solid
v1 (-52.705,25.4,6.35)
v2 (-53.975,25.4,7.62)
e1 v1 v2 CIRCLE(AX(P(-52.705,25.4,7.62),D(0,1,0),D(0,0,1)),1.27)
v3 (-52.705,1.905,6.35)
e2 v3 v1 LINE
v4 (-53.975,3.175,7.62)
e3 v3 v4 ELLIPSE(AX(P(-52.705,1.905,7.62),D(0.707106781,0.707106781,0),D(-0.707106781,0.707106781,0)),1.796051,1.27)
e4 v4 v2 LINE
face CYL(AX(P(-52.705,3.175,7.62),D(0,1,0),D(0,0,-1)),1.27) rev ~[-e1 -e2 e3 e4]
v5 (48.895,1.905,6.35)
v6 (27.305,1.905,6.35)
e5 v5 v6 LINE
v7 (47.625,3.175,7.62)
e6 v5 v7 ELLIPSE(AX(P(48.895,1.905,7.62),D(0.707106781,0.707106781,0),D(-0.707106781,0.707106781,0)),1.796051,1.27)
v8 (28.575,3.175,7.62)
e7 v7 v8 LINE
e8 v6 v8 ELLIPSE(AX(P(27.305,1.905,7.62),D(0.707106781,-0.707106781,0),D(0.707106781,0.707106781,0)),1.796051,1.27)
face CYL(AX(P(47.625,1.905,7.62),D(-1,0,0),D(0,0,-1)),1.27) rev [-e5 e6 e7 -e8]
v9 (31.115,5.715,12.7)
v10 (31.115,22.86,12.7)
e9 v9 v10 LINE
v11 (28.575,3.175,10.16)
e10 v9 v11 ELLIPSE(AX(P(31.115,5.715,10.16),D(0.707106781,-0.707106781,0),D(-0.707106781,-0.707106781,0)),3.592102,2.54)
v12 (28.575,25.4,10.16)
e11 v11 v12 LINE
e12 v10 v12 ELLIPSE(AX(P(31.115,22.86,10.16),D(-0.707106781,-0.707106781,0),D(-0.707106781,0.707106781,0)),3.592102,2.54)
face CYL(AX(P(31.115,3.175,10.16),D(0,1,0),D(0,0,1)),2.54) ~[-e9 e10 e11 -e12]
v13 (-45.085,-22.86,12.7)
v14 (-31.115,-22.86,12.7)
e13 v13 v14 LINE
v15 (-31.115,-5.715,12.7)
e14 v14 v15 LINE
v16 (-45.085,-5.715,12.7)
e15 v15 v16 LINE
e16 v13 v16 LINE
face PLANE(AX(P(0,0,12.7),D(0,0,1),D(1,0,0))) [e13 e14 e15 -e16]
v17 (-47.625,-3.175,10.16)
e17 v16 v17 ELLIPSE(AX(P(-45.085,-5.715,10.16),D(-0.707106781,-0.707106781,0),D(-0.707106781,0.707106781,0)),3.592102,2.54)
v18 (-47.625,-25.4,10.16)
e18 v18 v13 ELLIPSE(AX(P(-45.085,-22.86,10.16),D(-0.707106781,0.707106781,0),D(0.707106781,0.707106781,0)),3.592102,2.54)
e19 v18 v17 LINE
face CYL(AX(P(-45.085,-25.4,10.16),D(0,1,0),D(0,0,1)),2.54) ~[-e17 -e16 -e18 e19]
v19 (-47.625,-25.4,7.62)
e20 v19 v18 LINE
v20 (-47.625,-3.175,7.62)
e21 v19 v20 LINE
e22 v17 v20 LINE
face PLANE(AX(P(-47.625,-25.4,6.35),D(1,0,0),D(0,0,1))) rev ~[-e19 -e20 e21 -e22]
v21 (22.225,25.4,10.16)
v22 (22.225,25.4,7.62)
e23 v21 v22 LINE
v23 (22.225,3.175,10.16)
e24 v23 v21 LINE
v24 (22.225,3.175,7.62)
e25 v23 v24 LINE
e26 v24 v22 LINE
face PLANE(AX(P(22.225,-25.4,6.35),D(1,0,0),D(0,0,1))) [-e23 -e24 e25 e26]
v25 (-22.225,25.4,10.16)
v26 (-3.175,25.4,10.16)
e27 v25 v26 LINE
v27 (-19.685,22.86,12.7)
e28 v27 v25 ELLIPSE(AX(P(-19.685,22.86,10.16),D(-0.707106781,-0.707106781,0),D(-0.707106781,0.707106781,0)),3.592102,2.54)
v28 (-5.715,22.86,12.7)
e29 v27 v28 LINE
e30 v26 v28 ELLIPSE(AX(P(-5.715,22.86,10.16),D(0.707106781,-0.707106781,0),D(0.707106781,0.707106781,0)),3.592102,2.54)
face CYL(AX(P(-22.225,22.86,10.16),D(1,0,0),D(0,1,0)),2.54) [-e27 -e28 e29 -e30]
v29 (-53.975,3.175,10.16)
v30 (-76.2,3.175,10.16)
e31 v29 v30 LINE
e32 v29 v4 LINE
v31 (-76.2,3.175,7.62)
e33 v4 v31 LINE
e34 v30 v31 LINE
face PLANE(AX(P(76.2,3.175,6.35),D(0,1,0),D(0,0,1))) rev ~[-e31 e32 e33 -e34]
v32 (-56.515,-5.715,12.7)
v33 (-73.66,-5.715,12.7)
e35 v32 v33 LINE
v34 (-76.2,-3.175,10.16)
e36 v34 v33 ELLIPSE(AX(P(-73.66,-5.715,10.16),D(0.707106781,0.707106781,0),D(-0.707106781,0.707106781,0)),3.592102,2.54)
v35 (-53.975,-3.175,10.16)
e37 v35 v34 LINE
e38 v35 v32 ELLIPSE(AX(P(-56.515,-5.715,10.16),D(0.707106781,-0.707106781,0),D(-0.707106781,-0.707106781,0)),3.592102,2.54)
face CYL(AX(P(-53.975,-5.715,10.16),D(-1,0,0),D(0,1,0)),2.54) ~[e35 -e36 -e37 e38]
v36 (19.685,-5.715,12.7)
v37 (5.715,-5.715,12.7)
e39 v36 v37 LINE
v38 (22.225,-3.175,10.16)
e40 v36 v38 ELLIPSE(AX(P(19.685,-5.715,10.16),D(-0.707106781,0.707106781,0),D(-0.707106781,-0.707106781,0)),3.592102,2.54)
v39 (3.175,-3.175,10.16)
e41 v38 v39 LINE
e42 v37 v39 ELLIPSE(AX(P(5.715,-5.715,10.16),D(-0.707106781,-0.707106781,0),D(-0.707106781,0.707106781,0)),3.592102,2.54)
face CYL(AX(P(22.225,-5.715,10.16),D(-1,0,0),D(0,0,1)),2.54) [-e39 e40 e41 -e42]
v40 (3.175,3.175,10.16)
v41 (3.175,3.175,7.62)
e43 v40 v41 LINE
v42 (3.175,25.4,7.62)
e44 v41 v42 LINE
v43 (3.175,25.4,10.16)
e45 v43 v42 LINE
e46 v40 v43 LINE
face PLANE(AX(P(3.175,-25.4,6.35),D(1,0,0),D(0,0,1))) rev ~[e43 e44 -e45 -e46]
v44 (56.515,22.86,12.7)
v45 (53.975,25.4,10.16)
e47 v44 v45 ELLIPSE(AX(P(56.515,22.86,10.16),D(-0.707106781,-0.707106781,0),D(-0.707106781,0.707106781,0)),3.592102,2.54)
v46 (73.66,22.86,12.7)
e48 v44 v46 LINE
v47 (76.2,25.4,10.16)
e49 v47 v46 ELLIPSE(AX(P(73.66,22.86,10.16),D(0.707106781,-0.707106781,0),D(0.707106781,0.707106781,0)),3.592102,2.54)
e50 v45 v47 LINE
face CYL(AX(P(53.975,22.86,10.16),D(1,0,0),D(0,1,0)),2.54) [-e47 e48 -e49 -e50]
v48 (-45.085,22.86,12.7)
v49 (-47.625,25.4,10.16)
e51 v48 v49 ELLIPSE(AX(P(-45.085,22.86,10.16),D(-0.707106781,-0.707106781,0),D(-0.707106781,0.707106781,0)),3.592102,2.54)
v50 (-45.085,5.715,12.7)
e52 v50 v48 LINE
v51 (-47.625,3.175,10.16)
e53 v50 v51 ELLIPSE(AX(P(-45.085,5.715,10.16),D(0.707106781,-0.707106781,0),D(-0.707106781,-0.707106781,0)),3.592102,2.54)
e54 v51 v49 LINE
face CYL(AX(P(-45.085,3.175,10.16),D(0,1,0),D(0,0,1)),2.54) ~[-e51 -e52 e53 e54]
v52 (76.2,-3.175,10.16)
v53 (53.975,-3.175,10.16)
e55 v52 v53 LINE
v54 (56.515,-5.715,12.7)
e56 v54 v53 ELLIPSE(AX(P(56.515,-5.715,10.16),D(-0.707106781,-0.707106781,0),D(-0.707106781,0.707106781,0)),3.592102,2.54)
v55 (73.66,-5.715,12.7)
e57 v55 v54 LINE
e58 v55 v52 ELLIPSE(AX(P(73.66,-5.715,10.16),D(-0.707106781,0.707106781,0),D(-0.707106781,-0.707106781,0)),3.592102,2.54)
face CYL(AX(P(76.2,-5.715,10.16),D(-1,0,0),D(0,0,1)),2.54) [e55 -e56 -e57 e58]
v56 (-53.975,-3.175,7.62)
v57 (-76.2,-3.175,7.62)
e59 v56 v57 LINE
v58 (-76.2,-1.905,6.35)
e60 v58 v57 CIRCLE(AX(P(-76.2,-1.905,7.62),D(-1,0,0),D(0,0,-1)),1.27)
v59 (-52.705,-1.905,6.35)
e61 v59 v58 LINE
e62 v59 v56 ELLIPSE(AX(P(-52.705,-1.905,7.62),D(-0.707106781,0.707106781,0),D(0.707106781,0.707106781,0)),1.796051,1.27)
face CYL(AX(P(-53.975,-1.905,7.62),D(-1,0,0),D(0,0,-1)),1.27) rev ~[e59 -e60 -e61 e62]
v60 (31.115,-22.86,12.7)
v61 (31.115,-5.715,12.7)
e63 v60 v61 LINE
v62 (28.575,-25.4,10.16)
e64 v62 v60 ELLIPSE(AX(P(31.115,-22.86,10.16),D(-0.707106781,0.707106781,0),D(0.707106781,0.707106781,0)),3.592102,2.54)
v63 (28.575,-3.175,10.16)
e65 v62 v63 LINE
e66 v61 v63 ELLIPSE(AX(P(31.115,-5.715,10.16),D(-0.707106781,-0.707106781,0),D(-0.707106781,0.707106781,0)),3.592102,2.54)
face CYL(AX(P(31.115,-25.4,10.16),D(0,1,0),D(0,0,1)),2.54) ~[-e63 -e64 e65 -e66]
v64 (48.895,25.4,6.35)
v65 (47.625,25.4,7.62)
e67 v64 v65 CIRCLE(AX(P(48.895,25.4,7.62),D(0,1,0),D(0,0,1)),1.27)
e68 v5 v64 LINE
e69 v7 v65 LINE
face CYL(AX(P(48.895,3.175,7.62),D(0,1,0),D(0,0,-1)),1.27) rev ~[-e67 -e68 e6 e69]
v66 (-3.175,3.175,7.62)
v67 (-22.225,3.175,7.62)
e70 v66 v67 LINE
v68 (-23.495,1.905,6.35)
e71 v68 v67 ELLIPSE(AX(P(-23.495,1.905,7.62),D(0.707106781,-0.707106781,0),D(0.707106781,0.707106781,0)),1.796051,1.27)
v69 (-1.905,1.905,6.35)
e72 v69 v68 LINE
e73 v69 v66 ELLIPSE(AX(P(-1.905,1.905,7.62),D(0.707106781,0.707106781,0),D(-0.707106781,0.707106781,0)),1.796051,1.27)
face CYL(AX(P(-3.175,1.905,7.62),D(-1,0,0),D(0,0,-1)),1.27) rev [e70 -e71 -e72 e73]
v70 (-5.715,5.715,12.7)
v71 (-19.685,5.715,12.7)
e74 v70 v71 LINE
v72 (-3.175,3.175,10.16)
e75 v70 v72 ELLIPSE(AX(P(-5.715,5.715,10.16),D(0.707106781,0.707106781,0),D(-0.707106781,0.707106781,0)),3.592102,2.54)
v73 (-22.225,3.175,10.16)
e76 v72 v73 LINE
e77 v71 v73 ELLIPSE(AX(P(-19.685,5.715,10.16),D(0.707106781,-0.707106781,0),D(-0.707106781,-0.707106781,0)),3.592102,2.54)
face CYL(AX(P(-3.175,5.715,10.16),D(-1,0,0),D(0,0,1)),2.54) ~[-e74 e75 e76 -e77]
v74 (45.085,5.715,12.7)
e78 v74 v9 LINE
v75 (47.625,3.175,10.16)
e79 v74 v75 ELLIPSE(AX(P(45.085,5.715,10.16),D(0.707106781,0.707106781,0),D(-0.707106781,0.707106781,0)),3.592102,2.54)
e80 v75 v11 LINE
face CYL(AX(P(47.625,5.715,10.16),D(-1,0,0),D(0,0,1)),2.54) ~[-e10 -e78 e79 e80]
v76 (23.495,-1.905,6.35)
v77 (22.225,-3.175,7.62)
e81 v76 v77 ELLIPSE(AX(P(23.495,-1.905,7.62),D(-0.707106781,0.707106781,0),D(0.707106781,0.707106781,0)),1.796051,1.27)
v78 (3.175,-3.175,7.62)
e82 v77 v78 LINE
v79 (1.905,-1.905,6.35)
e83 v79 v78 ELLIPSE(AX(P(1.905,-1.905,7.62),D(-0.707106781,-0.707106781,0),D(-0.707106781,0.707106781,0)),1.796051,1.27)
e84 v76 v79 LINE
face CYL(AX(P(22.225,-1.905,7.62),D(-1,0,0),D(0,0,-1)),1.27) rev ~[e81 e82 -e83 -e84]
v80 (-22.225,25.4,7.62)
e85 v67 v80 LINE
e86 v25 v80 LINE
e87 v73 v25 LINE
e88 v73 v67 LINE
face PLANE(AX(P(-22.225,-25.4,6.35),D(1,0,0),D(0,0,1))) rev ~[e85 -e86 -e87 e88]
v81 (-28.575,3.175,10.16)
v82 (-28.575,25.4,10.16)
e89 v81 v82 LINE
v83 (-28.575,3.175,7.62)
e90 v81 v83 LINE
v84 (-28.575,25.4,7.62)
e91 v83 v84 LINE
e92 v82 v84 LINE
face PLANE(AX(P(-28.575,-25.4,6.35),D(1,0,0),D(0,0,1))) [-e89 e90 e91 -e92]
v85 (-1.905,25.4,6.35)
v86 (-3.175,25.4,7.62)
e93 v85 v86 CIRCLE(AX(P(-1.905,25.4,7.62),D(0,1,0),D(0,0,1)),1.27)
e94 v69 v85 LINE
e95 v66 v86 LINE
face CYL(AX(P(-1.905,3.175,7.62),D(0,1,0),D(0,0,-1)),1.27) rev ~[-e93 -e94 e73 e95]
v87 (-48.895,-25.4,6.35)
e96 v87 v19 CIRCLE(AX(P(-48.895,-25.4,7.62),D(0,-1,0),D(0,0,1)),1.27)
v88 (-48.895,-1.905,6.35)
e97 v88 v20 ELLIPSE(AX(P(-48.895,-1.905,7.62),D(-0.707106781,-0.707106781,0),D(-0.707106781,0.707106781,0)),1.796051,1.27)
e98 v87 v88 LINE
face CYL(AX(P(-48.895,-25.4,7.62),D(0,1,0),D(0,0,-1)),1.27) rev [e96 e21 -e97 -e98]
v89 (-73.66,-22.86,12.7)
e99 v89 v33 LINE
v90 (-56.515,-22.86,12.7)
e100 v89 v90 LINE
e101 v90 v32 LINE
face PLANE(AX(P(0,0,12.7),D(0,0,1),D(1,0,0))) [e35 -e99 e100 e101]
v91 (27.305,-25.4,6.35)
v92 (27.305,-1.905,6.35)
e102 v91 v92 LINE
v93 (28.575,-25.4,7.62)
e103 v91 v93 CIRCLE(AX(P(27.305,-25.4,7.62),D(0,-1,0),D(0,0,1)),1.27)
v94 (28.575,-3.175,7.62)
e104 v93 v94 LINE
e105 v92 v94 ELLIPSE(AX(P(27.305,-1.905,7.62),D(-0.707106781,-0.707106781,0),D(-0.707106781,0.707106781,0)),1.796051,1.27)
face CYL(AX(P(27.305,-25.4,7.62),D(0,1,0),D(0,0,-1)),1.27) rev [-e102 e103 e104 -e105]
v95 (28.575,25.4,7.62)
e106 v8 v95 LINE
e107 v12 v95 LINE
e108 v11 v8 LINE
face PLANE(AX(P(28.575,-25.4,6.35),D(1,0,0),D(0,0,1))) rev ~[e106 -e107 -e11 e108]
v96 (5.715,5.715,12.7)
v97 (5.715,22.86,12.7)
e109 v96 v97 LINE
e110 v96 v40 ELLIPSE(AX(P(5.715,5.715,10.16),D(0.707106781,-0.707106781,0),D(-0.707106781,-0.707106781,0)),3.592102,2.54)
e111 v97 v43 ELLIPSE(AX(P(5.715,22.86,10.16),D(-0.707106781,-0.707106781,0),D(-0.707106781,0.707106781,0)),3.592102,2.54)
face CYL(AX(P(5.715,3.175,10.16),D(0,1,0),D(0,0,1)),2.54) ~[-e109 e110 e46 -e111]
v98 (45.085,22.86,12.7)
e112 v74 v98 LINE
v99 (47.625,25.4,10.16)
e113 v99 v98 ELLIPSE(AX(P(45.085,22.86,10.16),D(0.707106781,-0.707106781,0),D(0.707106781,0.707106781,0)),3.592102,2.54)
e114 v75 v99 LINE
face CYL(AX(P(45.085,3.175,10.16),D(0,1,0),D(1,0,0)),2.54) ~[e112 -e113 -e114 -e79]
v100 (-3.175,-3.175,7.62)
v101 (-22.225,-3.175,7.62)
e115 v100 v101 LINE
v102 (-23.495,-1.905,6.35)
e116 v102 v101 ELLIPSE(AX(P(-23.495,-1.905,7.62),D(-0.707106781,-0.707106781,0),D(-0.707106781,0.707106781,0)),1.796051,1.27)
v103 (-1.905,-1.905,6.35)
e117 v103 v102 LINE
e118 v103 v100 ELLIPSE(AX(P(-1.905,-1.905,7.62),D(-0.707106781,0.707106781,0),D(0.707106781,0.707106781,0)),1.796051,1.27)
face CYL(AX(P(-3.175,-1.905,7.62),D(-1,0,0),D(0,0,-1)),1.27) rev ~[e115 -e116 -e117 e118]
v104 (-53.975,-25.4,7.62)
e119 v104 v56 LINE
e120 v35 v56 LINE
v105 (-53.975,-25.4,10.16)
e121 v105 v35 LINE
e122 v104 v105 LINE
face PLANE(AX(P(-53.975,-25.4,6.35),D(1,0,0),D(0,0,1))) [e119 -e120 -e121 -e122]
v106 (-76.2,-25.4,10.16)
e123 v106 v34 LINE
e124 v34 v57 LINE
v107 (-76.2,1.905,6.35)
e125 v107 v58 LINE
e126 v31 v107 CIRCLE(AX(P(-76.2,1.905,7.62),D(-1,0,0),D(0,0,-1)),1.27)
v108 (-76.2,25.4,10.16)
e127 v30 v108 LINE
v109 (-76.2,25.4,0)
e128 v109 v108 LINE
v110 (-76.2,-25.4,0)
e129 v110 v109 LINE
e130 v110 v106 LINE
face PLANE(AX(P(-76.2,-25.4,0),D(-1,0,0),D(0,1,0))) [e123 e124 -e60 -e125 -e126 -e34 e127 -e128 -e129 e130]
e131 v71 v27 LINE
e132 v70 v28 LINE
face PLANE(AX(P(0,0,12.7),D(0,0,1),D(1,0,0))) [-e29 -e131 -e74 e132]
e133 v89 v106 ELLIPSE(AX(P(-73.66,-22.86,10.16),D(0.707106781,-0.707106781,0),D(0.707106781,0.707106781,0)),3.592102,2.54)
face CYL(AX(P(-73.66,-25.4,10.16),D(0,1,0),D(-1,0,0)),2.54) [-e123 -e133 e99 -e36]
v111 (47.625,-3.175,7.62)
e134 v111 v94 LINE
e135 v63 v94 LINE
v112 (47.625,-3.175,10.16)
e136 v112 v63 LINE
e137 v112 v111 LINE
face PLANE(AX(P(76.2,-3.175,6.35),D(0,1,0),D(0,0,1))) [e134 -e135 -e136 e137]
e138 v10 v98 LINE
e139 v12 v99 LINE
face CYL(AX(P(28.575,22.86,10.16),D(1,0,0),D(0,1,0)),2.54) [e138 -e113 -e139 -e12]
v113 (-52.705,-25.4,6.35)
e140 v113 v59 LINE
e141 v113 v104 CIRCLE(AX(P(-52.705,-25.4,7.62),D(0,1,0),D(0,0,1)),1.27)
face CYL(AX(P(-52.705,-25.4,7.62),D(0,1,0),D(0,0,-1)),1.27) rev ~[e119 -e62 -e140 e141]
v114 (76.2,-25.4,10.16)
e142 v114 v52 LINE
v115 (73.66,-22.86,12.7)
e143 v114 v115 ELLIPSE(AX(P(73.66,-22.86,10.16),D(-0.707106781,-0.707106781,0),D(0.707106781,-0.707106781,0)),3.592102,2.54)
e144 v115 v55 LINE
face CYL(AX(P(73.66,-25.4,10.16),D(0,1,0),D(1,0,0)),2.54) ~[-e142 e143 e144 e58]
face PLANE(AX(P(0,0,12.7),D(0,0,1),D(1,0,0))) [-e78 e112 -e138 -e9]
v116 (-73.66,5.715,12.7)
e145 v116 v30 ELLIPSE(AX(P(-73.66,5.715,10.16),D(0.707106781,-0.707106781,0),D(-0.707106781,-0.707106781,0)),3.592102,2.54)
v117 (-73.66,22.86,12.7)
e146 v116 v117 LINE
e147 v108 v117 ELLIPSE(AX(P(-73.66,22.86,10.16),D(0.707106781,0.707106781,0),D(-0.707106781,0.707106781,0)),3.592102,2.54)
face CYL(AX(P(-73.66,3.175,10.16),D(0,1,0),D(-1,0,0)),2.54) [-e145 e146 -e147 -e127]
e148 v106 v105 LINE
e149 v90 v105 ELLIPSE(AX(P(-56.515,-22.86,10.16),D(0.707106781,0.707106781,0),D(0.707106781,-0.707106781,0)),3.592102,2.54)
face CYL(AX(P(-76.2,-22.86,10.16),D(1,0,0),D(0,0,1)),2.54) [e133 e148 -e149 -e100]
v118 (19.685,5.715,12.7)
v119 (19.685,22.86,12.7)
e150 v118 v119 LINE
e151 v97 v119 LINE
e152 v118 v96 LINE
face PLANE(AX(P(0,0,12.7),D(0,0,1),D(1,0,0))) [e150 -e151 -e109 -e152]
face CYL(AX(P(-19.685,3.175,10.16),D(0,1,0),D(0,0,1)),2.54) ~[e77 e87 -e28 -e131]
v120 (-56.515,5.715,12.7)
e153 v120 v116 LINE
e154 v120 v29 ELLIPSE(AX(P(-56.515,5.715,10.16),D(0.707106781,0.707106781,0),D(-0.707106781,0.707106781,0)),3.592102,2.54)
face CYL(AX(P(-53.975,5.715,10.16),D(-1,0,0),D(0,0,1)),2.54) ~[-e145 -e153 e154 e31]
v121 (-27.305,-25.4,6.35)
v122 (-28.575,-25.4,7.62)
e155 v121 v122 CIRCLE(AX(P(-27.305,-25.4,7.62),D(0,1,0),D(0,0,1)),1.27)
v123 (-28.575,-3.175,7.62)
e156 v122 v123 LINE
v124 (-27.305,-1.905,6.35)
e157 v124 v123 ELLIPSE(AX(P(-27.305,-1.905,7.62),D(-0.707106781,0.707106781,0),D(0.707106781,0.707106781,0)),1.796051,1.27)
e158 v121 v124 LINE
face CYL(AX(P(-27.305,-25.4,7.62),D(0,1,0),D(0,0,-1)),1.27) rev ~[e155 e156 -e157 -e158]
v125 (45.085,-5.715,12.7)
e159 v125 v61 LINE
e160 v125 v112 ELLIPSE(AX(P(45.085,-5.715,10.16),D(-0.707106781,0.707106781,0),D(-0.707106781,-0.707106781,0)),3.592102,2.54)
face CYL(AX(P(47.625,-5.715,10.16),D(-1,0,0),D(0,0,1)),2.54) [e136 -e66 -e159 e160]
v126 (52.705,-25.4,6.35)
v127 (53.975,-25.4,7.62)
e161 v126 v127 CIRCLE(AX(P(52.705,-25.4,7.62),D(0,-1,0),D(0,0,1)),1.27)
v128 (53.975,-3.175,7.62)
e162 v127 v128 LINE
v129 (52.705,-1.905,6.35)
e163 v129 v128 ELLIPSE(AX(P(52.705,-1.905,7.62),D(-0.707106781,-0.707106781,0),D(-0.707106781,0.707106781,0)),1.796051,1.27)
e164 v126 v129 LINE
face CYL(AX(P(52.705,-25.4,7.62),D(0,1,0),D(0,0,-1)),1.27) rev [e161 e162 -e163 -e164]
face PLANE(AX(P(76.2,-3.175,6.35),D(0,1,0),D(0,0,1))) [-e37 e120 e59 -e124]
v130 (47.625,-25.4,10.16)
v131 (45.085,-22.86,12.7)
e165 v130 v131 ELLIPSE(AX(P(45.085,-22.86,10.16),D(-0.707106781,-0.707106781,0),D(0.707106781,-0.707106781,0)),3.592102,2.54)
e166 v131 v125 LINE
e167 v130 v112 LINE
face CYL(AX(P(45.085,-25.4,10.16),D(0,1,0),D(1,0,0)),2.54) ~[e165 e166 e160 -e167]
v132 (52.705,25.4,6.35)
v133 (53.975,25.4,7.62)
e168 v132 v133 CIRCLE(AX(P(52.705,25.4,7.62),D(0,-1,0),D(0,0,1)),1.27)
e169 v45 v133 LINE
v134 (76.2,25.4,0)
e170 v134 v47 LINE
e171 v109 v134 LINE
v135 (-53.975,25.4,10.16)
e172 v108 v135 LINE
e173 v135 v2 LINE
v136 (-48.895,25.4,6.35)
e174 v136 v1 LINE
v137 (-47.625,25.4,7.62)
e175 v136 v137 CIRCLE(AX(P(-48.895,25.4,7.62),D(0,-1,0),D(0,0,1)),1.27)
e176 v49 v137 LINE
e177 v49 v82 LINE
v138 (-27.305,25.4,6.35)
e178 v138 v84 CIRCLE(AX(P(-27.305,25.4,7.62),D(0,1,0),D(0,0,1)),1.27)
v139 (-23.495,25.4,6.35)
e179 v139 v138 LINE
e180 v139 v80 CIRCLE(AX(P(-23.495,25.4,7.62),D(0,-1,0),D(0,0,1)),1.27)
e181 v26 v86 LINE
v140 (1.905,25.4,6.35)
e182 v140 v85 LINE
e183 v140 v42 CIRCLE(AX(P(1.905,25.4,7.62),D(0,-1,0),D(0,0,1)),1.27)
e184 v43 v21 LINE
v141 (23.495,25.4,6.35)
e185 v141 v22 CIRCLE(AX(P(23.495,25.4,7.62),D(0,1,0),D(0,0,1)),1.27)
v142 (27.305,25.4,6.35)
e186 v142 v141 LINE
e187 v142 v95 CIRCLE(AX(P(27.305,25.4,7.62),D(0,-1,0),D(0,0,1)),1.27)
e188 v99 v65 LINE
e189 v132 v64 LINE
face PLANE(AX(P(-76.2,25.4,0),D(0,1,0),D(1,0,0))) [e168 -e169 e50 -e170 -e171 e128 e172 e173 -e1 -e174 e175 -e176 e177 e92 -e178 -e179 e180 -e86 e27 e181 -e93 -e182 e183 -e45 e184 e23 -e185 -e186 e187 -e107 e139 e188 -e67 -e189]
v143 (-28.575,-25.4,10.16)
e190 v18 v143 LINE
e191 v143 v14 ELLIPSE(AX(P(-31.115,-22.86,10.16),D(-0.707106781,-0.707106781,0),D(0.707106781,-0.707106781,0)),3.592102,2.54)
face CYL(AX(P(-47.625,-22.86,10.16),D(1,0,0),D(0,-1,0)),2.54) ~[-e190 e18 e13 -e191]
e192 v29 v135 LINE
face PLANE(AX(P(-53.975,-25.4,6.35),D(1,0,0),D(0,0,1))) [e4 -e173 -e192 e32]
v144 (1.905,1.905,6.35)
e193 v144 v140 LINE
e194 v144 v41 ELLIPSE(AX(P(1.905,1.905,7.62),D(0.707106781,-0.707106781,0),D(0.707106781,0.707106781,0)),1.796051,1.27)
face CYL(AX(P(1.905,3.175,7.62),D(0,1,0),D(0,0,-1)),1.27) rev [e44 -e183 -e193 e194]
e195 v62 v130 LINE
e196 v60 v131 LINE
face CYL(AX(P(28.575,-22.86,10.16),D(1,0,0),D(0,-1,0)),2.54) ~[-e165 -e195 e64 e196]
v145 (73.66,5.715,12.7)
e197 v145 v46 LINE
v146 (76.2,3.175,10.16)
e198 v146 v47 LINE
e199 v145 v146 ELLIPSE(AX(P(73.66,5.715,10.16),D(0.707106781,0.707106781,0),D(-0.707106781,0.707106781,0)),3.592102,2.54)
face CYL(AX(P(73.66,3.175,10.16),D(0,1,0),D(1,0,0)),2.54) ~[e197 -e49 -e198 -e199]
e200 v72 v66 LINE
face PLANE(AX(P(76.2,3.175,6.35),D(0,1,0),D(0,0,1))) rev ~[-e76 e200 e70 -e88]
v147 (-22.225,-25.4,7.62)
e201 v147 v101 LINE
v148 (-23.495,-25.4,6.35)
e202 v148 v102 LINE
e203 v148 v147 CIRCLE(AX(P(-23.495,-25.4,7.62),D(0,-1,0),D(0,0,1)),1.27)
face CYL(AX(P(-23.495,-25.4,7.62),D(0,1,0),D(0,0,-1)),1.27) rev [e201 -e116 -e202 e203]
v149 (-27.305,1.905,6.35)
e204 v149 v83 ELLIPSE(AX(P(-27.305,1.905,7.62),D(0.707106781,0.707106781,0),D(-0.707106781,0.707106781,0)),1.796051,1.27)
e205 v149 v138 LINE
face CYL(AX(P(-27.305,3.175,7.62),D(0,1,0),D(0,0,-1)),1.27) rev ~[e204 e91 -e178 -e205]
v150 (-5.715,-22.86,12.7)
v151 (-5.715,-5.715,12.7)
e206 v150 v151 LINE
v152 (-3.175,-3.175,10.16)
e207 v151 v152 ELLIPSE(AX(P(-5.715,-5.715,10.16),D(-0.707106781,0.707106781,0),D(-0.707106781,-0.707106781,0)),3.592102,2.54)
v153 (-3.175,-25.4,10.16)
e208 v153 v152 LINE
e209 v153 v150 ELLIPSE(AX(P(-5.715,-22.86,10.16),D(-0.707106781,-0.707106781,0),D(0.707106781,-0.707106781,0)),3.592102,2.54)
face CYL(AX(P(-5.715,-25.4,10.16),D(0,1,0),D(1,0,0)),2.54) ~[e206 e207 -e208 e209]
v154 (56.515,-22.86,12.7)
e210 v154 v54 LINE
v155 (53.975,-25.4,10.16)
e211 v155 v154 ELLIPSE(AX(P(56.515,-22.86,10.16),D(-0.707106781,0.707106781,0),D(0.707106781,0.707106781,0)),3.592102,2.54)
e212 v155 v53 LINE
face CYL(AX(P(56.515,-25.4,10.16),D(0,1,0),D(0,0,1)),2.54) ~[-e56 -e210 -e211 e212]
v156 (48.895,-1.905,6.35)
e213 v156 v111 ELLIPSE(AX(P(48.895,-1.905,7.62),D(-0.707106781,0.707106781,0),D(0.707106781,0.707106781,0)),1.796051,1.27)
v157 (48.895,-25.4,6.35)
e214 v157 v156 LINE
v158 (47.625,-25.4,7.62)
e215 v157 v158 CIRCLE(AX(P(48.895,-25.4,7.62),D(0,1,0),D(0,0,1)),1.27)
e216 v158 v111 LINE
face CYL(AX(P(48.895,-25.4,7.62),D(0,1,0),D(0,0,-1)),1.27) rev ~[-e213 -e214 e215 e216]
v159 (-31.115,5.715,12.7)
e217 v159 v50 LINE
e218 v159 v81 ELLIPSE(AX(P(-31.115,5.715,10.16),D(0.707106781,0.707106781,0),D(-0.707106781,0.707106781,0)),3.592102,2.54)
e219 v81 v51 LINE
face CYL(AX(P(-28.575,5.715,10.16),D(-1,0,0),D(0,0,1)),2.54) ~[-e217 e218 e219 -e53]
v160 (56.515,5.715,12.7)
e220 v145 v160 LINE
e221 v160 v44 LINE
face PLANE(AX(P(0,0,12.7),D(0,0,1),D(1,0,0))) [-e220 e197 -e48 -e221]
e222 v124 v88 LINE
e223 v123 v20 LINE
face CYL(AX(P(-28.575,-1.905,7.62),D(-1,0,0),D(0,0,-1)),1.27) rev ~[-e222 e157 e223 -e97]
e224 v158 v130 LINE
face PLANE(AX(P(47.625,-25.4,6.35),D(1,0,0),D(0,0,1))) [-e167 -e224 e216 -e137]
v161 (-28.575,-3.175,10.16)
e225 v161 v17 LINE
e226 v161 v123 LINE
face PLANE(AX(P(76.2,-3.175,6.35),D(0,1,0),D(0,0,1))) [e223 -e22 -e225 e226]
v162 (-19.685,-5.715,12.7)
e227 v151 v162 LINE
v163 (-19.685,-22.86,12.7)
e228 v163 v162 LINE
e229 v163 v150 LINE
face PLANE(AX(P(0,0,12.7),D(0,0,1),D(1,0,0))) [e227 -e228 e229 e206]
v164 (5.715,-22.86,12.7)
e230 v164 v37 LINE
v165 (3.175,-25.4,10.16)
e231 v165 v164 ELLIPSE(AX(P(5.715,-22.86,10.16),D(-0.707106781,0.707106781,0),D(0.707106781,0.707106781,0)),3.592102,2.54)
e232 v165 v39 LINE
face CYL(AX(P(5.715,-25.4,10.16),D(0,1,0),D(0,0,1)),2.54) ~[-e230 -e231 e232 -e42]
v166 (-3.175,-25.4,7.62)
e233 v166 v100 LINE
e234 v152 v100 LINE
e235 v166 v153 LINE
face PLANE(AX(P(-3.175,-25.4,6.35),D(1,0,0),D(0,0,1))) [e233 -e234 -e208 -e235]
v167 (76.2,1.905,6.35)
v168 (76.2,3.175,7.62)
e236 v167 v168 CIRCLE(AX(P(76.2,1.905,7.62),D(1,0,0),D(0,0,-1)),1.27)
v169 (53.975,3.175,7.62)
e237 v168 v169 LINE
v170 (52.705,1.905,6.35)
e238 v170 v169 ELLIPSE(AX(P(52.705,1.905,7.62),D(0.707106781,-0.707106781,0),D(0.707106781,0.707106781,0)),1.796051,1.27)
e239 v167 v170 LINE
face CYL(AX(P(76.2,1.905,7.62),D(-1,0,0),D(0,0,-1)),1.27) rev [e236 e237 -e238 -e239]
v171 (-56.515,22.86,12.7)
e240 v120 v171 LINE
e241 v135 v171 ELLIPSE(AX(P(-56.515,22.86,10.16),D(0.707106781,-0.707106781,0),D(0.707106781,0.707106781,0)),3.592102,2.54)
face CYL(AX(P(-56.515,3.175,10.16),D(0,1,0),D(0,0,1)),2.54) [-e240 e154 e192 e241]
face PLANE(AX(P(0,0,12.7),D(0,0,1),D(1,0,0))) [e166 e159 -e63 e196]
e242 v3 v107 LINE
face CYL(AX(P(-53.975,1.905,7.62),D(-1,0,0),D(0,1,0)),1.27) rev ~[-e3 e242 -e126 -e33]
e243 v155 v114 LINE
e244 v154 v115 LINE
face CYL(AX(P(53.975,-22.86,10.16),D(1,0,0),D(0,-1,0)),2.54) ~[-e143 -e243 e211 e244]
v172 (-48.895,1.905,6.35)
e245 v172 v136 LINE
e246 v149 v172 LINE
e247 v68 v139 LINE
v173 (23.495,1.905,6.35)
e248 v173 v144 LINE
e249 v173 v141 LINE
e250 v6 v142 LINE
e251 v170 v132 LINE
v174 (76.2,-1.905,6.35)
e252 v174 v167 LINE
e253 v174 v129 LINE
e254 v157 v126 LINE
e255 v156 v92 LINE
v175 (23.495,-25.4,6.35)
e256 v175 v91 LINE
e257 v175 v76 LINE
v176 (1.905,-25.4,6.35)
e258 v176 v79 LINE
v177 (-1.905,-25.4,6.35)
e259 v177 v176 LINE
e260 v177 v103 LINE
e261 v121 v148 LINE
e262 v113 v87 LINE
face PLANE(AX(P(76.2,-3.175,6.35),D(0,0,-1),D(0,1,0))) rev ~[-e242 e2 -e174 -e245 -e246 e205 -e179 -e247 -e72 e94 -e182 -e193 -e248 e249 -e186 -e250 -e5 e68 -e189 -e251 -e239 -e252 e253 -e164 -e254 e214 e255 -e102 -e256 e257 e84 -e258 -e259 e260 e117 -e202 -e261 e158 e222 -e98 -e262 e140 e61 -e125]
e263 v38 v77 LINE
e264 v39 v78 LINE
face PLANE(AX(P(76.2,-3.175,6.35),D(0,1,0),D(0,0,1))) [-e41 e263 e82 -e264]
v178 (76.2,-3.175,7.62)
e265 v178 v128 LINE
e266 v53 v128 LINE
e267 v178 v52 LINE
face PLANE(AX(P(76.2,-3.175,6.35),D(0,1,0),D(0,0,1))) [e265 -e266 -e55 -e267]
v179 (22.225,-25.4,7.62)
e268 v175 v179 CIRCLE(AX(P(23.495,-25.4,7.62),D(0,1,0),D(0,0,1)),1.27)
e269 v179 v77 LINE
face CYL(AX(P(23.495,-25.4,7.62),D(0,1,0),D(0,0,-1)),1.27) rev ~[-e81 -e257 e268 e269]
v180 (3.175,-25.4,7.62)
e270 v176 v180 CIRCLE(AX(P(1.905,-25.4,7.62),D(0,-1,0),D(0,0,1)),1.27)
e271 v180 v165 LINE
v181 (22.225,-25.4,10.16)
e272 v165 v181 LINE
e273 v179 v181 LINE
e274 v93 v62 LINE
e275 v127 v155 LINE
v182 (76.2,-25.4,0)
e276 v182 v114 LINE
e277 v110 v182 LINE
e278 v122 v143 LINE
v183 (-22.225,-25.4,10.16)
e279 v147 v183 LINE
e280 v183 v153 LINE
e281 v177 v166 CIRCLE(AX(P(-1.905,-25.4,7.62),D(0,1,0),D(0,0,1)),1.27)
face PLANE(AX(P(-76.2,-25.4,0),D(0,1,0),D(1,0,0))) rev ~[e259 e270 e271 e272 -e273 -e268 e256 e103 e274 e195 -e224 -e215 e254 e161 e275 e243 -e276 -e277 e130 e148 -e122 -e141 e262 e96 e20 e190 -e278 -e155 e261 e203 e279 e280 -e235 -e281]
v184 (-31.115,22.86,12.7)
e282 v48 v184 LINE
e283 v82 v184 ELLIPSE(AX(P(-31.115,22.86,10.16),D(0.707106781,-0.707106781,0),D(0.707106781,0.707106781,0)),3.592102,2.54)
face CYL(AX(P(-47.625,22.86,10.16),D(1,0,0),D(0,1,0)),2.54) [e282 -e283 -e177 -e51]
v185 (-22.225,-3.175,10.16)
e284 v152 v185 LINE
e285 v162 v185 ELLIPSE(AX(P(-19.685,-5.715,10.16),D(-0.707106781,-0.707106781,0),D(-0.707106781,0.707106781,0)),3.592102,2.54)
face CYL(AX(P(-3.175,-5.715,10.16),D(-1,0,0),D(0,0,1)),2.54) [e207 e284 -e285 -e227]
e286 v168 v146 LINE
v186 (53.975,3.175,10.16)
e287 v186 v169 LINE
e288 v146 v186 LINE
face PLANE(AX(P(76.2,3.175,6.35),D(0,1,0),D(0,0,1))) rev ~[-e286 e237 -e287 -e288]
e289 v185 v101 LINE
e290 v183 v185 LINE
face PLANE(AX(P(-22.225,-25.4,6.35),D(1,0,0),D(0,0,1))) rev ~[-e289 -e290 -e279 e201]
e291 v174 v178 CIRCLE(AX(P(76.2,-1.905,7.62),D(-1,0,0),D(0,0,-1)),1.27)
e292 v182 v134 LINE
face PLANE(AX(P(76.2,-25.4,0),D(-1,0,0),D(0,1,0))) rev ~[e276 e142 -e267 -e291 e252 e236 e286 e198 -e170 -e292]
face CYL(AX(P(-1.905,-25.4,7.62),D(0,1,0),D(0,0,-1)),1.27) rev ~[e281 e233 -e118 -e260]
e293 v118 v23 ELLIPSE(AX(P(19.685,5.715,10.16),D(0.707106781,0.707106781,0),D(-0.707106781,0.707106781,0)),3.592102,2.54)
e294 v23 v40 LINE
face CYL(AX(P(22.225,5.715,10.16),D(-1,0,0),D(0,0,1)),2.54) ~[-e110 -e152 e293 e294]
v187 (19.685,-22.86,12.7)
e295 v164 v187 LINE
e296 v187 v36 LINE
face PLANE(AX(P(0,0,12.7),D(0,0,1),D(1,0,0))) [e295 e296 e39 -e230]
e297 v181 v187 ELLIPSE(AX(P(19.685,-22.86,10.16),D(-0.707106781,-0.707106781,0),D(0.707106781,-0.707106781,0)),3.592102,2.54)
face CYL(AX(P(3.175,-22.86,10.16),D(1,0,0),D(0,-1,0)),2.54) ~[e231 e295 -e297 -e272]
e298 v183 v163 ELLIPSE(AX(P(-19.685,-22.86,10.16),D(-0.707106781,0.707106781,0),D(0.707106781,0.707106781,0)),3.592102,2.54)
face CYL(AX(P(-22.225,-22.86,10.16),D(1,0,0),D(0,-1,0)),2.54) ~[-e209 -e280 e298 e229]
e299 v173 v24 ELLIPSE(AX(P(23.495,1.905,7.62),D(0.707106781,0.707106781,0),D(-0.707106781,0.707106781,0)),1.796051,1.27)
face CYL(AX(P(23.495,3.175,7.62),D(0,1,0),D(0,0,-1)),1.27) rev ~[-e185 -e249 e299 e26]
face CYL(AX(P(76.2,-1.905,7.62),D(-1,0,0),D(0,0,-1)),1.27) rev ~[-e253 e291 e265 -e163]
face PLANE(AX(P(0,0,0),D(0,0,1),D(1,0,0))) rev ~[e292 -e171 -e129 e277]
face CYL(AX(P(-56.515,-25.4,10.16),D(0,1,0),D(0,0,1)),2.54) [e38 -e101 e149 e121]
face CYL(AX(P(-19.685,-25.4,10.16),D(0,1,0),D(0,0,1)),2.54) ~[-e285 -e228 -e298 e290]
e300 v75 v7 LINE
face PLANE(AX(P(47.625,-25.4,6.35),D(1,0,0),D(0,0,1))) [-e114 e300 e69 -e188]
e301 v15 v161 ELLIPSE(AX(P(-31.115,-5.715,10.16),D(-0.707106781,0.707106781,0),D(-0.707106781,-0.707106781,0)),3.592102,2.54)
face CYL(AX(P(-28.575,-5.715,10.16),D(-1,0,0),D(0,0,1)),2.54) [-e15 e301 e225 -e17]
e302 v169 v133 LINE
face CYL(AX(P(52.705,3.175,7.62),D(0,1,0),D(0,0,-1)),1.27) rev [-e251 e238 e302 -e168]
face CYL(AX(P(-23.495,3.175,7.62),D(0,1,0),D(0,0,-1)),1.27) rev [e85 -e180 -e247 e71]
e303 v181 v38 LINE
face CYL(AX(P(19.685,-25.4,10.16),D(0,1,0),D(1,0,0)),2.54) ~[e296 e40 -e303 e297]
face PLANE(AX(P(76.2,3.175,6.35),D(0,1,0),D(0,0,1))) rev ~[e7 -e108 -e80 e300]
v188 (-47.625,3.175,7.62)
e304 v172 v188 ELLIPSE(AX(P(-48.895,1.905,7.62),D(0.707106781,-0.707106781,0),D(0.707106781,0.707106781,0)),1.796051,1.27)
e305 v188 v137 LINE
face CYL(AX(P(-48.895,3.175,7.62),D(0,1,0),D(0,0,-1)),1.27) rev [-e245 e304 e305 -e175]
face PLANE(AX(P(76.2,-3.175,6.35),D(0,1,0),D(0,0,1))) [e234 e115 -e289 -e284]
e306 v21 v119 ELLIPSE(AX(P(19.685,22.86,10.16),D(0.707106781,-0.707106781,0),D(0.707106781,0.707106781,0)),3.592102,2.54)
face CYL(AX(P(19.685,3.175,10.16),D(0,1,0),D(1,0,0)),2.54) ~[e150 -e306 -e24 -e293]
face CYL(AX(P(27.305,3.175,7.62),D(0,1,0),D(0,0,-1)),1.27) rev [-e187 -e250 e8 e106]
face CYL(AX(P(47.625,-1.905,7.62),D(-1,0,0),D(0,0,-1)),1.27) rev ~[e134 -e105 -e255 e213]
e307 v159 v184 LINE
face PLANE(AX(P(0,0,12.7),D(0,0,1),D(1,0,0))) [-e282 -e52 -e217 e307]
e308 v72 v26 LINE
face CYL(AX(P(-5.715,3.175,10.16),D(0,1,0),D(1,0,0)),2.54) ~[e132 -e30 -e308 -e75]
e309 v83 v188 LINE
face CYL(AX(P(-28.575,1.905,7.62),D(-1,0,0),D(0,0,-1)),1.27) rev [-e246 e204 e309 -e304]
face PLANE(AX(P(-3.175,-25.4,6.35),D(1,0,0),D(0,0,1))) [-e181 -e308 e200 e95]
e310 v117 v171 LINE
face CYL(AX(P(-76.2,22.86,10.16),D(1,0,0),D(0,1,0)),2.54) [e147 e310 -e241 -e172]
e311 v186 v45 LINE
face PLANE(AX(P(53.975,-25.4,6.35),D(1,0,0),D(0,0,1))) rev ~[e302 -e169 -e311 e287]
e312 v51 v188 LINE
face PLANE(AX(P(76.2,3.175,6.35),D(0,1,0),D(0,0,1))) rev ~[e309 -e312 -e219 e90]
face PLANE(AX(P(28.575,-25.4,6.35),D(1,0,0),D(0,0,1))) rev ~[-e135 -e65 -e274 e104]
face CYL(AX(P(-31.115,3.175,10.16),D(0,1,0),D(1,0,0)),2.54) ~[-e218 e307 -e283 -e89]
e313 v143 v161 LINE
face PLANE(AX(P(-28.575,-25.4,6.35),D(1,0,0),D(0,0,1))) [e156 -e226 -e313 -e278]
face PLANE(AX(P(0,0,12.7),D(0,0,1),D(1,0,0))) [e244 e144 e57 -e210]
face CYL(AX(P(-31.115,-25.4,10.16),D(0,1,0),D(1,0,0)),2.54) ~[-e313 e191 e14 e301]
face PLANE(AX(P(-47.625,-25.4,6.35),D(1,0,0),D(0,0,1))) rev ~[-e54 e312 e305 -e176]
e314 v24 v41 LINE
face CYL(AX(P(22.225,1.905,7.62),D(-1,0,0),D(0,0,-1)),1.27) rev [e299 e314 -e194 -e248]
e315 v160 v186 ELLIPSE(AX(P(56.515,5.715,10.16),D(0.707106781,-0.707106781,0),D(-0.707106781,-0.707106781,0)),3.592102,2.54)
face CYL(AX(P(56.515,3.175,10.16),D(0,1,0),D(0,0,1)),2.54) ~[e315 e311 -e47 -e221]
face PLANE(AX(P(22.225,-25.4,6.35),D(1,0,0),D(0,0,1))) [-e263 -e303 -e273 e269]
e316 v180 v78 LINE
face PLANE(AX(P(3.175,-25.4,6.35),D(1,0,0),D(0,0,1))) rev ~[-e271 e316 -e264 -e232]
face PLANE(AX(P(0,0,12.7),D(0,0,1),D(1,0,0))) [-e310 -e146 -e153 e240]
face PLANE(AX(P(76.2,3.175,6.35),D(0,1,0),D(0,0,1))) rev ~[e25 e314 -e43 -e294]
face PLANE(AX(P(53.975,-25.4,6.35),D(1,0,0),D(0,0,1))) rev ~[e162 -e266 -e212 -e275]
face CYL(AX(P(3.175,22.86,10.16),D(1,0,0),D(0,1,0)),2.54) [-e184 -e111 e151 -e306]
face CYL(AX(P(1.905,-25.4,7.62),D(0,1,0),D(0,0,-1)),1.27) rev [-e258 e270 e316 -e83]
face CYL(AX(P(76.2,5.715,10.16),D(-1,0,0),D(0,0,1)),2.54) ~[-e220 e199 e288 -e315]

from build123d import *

# Parameters (mm, degrees)
F0_W     = 152.4
F0_H     = 50.8
F1_DEPTH = 12.7
F2_W     = 6.35
F2_H     = 12.7
F3_DEPTH = 152.401
F4_W     = 6.35
F4_H     = 12.7
F5_DEPTH = 50.801
F6_R     = 2.54
F7_R     = 1.27


with BuildPart() as f1:
    # F0 (on Top) → F1 (new body)
    with BuildSketch(Plane.XY):
        Rectangle(F0_W, F0_H)
    extrude(amount=F1_DEPTH)

    # F2 (on face) → F3 (cut, through all)
    with BuildSketch(Plane.YZ.offset(76.2)):
        with Locations((0, 12.7)):
            Rectangle(F2_W, F2_H)
    extrude(amount=-F3_DEPTH, mode=Mode.SUBTRACT)

    # F4 (on face) → F5 (cut, through all)
    with BuildSketch(Plane.XZ.offset(25.4)):
        with Locations((0, 12.7)):
            Rectangle(F4_W, F4_H)
        with Locations((25.4, 12.7)):
            Rectangle(F4_W, F4_H)
        with Locations((50.8, 12.7)):
            Rectangle(F4_W, F4_H)
        with Locations((-25.4, 12.7)):
            Rectangle(F4_W, F4_H)
        with Locations((-50.8, 12.7)):
            Rectangle(F4_W, F4_H)
    extrude(amount=-F5_DEPTH, mode=Mode.SUBTRACT)

    # F6
    f6_edges = [f1.edges().sort_by_distance(p)[0] for p in [
        (-65.0875, -25.4, 12.7),
        (-76.2, -14.2875, 12.7),
        (-65.0875, -3.175, 12.7),
        (-53.975, -14.2875, 12.7),
        (-38.1, -25.4, 12.7),
        (-47.625, -14.2875, 12.7),
        (-38.1, -3.175, 12.7),
        (-28.575, -14.2875, 12.7),
        (-12.7, -25.4, 12.7),
        (-22.225, -14.2875, 12.7),
        (-12.7, -3.175, 12.7),
        (-3.175, -14.2875, 12.7),
        (12.7, -25.4, 12.7),
        (3.175, -14.2875, 12.7),
        (12.7, -3.175, 12.7),
        (22.225, -14.2875, 12.7),
        (38.1, -25.4, 12.7),
        (28.575, -14.2875, 12.7),
        (38.1, -3.175, 12.7),
        (47.625, -14.2875, 12.7),
        (65.0875, -25.4, 12.7),
        (53.975, -14.2875, 12.7),
        (65.0875, -3.175, 12.7),
        (76.2, -14.2875, 12.7),
        (65.0875, 3.175, 12.7),
        (53.975, 14.2875, 12.7),
        (65.0875, 25.4, 12.7),
        (76.2, 14.2875, 12.7),
        (38.1, 3.175, 12.7),
        (28.575, 14.2875, 12.7),
        (38.1, 25.4, 12.7),
        (47.625, 14.2875, 12.7),
        (12.7, 3.175, 12.7),
        (3.175, 14.2875, 12.7),
        (12.7, 25.4, 12.7),
        (22.225, 14.2875, 12.7),
        (-38.1, 3.175, 12.7),
        (-47.625, 14.2875, 12.7),
        (-38.1, 25.4, 12.7),
        (-28.575, 14.2875, 12.7),
        (-12.7, 3.175, 12.7),
        (-22.225, 14.2875, 12.7),
        (-12.7, 25.4, 12.7),
        (-3.175, 14.2875, 12.7),
        (-65.0875, 3.175, 12.7),
        (-76.2, 14.2875, 12.7),
        (-65.0875, 25.4, 12.7),
        (-53.975, 14.2875, 12.7),
    ]]
    fillet(f6_edges, radius=F6_R)

    # F7
    f7_edges = [f1.edges().sort_by_distance(p)[0] for p in [
        (-47.625, 14.2875, 6.35),
        (-53.975, 14.2875, 6.35),
        (-53.975, -14.2875, 6.35),
        (-47.625, -14.2875, 6.35),
        (-22.225, -14.2875, 6.35),
        (-28.575, -14.2875, 6.35),
        (-28.575, 14.2875, 6.35),
        (-22.225, 14.2875, 6.35),
        (3.175, -14.2875, 6.35),
        (3.175, 14.2875, 6.35),
        (-3.175, 14.2875, 6.35),
        (-3.175, -14.2875, 6.35),
        (22.225, 14.2875, 6.35),
        (22.225, -14.2875, 6.35),
        (28.575, -14.2875, 6.35),
        (28.575, 14.2875, 6.35),
        (47.625, 14.2875, 6.35),
        (47.625, -14.2875, 6.35),
        (53.975, 14.2875, 6.35),
        (53.975, -14.2875, 6.35),
        (65.0875, -3.175, 6.35),
        (38.1, -3.175, 6.35),
        (12.7, -3.175, 6.35),
        (-12.7, -3.175, 6.35),
        (-38.1, -3.175, 6.35),
        (-65.0875, -3.175, 6.35),
        (-65.0875, 3.175, 6.35),
        (-12.7, 3.175, 6.35),
        (-38.1, 3.175, 6.35),
        (12.7, 3.175, 6.35),
        (38.1, 3.175, 6.35),
        (65.0875, 3.175, 6.35),
    ]]
    fillet(f7_edges, radius=F7_R)


solid = f1.part
